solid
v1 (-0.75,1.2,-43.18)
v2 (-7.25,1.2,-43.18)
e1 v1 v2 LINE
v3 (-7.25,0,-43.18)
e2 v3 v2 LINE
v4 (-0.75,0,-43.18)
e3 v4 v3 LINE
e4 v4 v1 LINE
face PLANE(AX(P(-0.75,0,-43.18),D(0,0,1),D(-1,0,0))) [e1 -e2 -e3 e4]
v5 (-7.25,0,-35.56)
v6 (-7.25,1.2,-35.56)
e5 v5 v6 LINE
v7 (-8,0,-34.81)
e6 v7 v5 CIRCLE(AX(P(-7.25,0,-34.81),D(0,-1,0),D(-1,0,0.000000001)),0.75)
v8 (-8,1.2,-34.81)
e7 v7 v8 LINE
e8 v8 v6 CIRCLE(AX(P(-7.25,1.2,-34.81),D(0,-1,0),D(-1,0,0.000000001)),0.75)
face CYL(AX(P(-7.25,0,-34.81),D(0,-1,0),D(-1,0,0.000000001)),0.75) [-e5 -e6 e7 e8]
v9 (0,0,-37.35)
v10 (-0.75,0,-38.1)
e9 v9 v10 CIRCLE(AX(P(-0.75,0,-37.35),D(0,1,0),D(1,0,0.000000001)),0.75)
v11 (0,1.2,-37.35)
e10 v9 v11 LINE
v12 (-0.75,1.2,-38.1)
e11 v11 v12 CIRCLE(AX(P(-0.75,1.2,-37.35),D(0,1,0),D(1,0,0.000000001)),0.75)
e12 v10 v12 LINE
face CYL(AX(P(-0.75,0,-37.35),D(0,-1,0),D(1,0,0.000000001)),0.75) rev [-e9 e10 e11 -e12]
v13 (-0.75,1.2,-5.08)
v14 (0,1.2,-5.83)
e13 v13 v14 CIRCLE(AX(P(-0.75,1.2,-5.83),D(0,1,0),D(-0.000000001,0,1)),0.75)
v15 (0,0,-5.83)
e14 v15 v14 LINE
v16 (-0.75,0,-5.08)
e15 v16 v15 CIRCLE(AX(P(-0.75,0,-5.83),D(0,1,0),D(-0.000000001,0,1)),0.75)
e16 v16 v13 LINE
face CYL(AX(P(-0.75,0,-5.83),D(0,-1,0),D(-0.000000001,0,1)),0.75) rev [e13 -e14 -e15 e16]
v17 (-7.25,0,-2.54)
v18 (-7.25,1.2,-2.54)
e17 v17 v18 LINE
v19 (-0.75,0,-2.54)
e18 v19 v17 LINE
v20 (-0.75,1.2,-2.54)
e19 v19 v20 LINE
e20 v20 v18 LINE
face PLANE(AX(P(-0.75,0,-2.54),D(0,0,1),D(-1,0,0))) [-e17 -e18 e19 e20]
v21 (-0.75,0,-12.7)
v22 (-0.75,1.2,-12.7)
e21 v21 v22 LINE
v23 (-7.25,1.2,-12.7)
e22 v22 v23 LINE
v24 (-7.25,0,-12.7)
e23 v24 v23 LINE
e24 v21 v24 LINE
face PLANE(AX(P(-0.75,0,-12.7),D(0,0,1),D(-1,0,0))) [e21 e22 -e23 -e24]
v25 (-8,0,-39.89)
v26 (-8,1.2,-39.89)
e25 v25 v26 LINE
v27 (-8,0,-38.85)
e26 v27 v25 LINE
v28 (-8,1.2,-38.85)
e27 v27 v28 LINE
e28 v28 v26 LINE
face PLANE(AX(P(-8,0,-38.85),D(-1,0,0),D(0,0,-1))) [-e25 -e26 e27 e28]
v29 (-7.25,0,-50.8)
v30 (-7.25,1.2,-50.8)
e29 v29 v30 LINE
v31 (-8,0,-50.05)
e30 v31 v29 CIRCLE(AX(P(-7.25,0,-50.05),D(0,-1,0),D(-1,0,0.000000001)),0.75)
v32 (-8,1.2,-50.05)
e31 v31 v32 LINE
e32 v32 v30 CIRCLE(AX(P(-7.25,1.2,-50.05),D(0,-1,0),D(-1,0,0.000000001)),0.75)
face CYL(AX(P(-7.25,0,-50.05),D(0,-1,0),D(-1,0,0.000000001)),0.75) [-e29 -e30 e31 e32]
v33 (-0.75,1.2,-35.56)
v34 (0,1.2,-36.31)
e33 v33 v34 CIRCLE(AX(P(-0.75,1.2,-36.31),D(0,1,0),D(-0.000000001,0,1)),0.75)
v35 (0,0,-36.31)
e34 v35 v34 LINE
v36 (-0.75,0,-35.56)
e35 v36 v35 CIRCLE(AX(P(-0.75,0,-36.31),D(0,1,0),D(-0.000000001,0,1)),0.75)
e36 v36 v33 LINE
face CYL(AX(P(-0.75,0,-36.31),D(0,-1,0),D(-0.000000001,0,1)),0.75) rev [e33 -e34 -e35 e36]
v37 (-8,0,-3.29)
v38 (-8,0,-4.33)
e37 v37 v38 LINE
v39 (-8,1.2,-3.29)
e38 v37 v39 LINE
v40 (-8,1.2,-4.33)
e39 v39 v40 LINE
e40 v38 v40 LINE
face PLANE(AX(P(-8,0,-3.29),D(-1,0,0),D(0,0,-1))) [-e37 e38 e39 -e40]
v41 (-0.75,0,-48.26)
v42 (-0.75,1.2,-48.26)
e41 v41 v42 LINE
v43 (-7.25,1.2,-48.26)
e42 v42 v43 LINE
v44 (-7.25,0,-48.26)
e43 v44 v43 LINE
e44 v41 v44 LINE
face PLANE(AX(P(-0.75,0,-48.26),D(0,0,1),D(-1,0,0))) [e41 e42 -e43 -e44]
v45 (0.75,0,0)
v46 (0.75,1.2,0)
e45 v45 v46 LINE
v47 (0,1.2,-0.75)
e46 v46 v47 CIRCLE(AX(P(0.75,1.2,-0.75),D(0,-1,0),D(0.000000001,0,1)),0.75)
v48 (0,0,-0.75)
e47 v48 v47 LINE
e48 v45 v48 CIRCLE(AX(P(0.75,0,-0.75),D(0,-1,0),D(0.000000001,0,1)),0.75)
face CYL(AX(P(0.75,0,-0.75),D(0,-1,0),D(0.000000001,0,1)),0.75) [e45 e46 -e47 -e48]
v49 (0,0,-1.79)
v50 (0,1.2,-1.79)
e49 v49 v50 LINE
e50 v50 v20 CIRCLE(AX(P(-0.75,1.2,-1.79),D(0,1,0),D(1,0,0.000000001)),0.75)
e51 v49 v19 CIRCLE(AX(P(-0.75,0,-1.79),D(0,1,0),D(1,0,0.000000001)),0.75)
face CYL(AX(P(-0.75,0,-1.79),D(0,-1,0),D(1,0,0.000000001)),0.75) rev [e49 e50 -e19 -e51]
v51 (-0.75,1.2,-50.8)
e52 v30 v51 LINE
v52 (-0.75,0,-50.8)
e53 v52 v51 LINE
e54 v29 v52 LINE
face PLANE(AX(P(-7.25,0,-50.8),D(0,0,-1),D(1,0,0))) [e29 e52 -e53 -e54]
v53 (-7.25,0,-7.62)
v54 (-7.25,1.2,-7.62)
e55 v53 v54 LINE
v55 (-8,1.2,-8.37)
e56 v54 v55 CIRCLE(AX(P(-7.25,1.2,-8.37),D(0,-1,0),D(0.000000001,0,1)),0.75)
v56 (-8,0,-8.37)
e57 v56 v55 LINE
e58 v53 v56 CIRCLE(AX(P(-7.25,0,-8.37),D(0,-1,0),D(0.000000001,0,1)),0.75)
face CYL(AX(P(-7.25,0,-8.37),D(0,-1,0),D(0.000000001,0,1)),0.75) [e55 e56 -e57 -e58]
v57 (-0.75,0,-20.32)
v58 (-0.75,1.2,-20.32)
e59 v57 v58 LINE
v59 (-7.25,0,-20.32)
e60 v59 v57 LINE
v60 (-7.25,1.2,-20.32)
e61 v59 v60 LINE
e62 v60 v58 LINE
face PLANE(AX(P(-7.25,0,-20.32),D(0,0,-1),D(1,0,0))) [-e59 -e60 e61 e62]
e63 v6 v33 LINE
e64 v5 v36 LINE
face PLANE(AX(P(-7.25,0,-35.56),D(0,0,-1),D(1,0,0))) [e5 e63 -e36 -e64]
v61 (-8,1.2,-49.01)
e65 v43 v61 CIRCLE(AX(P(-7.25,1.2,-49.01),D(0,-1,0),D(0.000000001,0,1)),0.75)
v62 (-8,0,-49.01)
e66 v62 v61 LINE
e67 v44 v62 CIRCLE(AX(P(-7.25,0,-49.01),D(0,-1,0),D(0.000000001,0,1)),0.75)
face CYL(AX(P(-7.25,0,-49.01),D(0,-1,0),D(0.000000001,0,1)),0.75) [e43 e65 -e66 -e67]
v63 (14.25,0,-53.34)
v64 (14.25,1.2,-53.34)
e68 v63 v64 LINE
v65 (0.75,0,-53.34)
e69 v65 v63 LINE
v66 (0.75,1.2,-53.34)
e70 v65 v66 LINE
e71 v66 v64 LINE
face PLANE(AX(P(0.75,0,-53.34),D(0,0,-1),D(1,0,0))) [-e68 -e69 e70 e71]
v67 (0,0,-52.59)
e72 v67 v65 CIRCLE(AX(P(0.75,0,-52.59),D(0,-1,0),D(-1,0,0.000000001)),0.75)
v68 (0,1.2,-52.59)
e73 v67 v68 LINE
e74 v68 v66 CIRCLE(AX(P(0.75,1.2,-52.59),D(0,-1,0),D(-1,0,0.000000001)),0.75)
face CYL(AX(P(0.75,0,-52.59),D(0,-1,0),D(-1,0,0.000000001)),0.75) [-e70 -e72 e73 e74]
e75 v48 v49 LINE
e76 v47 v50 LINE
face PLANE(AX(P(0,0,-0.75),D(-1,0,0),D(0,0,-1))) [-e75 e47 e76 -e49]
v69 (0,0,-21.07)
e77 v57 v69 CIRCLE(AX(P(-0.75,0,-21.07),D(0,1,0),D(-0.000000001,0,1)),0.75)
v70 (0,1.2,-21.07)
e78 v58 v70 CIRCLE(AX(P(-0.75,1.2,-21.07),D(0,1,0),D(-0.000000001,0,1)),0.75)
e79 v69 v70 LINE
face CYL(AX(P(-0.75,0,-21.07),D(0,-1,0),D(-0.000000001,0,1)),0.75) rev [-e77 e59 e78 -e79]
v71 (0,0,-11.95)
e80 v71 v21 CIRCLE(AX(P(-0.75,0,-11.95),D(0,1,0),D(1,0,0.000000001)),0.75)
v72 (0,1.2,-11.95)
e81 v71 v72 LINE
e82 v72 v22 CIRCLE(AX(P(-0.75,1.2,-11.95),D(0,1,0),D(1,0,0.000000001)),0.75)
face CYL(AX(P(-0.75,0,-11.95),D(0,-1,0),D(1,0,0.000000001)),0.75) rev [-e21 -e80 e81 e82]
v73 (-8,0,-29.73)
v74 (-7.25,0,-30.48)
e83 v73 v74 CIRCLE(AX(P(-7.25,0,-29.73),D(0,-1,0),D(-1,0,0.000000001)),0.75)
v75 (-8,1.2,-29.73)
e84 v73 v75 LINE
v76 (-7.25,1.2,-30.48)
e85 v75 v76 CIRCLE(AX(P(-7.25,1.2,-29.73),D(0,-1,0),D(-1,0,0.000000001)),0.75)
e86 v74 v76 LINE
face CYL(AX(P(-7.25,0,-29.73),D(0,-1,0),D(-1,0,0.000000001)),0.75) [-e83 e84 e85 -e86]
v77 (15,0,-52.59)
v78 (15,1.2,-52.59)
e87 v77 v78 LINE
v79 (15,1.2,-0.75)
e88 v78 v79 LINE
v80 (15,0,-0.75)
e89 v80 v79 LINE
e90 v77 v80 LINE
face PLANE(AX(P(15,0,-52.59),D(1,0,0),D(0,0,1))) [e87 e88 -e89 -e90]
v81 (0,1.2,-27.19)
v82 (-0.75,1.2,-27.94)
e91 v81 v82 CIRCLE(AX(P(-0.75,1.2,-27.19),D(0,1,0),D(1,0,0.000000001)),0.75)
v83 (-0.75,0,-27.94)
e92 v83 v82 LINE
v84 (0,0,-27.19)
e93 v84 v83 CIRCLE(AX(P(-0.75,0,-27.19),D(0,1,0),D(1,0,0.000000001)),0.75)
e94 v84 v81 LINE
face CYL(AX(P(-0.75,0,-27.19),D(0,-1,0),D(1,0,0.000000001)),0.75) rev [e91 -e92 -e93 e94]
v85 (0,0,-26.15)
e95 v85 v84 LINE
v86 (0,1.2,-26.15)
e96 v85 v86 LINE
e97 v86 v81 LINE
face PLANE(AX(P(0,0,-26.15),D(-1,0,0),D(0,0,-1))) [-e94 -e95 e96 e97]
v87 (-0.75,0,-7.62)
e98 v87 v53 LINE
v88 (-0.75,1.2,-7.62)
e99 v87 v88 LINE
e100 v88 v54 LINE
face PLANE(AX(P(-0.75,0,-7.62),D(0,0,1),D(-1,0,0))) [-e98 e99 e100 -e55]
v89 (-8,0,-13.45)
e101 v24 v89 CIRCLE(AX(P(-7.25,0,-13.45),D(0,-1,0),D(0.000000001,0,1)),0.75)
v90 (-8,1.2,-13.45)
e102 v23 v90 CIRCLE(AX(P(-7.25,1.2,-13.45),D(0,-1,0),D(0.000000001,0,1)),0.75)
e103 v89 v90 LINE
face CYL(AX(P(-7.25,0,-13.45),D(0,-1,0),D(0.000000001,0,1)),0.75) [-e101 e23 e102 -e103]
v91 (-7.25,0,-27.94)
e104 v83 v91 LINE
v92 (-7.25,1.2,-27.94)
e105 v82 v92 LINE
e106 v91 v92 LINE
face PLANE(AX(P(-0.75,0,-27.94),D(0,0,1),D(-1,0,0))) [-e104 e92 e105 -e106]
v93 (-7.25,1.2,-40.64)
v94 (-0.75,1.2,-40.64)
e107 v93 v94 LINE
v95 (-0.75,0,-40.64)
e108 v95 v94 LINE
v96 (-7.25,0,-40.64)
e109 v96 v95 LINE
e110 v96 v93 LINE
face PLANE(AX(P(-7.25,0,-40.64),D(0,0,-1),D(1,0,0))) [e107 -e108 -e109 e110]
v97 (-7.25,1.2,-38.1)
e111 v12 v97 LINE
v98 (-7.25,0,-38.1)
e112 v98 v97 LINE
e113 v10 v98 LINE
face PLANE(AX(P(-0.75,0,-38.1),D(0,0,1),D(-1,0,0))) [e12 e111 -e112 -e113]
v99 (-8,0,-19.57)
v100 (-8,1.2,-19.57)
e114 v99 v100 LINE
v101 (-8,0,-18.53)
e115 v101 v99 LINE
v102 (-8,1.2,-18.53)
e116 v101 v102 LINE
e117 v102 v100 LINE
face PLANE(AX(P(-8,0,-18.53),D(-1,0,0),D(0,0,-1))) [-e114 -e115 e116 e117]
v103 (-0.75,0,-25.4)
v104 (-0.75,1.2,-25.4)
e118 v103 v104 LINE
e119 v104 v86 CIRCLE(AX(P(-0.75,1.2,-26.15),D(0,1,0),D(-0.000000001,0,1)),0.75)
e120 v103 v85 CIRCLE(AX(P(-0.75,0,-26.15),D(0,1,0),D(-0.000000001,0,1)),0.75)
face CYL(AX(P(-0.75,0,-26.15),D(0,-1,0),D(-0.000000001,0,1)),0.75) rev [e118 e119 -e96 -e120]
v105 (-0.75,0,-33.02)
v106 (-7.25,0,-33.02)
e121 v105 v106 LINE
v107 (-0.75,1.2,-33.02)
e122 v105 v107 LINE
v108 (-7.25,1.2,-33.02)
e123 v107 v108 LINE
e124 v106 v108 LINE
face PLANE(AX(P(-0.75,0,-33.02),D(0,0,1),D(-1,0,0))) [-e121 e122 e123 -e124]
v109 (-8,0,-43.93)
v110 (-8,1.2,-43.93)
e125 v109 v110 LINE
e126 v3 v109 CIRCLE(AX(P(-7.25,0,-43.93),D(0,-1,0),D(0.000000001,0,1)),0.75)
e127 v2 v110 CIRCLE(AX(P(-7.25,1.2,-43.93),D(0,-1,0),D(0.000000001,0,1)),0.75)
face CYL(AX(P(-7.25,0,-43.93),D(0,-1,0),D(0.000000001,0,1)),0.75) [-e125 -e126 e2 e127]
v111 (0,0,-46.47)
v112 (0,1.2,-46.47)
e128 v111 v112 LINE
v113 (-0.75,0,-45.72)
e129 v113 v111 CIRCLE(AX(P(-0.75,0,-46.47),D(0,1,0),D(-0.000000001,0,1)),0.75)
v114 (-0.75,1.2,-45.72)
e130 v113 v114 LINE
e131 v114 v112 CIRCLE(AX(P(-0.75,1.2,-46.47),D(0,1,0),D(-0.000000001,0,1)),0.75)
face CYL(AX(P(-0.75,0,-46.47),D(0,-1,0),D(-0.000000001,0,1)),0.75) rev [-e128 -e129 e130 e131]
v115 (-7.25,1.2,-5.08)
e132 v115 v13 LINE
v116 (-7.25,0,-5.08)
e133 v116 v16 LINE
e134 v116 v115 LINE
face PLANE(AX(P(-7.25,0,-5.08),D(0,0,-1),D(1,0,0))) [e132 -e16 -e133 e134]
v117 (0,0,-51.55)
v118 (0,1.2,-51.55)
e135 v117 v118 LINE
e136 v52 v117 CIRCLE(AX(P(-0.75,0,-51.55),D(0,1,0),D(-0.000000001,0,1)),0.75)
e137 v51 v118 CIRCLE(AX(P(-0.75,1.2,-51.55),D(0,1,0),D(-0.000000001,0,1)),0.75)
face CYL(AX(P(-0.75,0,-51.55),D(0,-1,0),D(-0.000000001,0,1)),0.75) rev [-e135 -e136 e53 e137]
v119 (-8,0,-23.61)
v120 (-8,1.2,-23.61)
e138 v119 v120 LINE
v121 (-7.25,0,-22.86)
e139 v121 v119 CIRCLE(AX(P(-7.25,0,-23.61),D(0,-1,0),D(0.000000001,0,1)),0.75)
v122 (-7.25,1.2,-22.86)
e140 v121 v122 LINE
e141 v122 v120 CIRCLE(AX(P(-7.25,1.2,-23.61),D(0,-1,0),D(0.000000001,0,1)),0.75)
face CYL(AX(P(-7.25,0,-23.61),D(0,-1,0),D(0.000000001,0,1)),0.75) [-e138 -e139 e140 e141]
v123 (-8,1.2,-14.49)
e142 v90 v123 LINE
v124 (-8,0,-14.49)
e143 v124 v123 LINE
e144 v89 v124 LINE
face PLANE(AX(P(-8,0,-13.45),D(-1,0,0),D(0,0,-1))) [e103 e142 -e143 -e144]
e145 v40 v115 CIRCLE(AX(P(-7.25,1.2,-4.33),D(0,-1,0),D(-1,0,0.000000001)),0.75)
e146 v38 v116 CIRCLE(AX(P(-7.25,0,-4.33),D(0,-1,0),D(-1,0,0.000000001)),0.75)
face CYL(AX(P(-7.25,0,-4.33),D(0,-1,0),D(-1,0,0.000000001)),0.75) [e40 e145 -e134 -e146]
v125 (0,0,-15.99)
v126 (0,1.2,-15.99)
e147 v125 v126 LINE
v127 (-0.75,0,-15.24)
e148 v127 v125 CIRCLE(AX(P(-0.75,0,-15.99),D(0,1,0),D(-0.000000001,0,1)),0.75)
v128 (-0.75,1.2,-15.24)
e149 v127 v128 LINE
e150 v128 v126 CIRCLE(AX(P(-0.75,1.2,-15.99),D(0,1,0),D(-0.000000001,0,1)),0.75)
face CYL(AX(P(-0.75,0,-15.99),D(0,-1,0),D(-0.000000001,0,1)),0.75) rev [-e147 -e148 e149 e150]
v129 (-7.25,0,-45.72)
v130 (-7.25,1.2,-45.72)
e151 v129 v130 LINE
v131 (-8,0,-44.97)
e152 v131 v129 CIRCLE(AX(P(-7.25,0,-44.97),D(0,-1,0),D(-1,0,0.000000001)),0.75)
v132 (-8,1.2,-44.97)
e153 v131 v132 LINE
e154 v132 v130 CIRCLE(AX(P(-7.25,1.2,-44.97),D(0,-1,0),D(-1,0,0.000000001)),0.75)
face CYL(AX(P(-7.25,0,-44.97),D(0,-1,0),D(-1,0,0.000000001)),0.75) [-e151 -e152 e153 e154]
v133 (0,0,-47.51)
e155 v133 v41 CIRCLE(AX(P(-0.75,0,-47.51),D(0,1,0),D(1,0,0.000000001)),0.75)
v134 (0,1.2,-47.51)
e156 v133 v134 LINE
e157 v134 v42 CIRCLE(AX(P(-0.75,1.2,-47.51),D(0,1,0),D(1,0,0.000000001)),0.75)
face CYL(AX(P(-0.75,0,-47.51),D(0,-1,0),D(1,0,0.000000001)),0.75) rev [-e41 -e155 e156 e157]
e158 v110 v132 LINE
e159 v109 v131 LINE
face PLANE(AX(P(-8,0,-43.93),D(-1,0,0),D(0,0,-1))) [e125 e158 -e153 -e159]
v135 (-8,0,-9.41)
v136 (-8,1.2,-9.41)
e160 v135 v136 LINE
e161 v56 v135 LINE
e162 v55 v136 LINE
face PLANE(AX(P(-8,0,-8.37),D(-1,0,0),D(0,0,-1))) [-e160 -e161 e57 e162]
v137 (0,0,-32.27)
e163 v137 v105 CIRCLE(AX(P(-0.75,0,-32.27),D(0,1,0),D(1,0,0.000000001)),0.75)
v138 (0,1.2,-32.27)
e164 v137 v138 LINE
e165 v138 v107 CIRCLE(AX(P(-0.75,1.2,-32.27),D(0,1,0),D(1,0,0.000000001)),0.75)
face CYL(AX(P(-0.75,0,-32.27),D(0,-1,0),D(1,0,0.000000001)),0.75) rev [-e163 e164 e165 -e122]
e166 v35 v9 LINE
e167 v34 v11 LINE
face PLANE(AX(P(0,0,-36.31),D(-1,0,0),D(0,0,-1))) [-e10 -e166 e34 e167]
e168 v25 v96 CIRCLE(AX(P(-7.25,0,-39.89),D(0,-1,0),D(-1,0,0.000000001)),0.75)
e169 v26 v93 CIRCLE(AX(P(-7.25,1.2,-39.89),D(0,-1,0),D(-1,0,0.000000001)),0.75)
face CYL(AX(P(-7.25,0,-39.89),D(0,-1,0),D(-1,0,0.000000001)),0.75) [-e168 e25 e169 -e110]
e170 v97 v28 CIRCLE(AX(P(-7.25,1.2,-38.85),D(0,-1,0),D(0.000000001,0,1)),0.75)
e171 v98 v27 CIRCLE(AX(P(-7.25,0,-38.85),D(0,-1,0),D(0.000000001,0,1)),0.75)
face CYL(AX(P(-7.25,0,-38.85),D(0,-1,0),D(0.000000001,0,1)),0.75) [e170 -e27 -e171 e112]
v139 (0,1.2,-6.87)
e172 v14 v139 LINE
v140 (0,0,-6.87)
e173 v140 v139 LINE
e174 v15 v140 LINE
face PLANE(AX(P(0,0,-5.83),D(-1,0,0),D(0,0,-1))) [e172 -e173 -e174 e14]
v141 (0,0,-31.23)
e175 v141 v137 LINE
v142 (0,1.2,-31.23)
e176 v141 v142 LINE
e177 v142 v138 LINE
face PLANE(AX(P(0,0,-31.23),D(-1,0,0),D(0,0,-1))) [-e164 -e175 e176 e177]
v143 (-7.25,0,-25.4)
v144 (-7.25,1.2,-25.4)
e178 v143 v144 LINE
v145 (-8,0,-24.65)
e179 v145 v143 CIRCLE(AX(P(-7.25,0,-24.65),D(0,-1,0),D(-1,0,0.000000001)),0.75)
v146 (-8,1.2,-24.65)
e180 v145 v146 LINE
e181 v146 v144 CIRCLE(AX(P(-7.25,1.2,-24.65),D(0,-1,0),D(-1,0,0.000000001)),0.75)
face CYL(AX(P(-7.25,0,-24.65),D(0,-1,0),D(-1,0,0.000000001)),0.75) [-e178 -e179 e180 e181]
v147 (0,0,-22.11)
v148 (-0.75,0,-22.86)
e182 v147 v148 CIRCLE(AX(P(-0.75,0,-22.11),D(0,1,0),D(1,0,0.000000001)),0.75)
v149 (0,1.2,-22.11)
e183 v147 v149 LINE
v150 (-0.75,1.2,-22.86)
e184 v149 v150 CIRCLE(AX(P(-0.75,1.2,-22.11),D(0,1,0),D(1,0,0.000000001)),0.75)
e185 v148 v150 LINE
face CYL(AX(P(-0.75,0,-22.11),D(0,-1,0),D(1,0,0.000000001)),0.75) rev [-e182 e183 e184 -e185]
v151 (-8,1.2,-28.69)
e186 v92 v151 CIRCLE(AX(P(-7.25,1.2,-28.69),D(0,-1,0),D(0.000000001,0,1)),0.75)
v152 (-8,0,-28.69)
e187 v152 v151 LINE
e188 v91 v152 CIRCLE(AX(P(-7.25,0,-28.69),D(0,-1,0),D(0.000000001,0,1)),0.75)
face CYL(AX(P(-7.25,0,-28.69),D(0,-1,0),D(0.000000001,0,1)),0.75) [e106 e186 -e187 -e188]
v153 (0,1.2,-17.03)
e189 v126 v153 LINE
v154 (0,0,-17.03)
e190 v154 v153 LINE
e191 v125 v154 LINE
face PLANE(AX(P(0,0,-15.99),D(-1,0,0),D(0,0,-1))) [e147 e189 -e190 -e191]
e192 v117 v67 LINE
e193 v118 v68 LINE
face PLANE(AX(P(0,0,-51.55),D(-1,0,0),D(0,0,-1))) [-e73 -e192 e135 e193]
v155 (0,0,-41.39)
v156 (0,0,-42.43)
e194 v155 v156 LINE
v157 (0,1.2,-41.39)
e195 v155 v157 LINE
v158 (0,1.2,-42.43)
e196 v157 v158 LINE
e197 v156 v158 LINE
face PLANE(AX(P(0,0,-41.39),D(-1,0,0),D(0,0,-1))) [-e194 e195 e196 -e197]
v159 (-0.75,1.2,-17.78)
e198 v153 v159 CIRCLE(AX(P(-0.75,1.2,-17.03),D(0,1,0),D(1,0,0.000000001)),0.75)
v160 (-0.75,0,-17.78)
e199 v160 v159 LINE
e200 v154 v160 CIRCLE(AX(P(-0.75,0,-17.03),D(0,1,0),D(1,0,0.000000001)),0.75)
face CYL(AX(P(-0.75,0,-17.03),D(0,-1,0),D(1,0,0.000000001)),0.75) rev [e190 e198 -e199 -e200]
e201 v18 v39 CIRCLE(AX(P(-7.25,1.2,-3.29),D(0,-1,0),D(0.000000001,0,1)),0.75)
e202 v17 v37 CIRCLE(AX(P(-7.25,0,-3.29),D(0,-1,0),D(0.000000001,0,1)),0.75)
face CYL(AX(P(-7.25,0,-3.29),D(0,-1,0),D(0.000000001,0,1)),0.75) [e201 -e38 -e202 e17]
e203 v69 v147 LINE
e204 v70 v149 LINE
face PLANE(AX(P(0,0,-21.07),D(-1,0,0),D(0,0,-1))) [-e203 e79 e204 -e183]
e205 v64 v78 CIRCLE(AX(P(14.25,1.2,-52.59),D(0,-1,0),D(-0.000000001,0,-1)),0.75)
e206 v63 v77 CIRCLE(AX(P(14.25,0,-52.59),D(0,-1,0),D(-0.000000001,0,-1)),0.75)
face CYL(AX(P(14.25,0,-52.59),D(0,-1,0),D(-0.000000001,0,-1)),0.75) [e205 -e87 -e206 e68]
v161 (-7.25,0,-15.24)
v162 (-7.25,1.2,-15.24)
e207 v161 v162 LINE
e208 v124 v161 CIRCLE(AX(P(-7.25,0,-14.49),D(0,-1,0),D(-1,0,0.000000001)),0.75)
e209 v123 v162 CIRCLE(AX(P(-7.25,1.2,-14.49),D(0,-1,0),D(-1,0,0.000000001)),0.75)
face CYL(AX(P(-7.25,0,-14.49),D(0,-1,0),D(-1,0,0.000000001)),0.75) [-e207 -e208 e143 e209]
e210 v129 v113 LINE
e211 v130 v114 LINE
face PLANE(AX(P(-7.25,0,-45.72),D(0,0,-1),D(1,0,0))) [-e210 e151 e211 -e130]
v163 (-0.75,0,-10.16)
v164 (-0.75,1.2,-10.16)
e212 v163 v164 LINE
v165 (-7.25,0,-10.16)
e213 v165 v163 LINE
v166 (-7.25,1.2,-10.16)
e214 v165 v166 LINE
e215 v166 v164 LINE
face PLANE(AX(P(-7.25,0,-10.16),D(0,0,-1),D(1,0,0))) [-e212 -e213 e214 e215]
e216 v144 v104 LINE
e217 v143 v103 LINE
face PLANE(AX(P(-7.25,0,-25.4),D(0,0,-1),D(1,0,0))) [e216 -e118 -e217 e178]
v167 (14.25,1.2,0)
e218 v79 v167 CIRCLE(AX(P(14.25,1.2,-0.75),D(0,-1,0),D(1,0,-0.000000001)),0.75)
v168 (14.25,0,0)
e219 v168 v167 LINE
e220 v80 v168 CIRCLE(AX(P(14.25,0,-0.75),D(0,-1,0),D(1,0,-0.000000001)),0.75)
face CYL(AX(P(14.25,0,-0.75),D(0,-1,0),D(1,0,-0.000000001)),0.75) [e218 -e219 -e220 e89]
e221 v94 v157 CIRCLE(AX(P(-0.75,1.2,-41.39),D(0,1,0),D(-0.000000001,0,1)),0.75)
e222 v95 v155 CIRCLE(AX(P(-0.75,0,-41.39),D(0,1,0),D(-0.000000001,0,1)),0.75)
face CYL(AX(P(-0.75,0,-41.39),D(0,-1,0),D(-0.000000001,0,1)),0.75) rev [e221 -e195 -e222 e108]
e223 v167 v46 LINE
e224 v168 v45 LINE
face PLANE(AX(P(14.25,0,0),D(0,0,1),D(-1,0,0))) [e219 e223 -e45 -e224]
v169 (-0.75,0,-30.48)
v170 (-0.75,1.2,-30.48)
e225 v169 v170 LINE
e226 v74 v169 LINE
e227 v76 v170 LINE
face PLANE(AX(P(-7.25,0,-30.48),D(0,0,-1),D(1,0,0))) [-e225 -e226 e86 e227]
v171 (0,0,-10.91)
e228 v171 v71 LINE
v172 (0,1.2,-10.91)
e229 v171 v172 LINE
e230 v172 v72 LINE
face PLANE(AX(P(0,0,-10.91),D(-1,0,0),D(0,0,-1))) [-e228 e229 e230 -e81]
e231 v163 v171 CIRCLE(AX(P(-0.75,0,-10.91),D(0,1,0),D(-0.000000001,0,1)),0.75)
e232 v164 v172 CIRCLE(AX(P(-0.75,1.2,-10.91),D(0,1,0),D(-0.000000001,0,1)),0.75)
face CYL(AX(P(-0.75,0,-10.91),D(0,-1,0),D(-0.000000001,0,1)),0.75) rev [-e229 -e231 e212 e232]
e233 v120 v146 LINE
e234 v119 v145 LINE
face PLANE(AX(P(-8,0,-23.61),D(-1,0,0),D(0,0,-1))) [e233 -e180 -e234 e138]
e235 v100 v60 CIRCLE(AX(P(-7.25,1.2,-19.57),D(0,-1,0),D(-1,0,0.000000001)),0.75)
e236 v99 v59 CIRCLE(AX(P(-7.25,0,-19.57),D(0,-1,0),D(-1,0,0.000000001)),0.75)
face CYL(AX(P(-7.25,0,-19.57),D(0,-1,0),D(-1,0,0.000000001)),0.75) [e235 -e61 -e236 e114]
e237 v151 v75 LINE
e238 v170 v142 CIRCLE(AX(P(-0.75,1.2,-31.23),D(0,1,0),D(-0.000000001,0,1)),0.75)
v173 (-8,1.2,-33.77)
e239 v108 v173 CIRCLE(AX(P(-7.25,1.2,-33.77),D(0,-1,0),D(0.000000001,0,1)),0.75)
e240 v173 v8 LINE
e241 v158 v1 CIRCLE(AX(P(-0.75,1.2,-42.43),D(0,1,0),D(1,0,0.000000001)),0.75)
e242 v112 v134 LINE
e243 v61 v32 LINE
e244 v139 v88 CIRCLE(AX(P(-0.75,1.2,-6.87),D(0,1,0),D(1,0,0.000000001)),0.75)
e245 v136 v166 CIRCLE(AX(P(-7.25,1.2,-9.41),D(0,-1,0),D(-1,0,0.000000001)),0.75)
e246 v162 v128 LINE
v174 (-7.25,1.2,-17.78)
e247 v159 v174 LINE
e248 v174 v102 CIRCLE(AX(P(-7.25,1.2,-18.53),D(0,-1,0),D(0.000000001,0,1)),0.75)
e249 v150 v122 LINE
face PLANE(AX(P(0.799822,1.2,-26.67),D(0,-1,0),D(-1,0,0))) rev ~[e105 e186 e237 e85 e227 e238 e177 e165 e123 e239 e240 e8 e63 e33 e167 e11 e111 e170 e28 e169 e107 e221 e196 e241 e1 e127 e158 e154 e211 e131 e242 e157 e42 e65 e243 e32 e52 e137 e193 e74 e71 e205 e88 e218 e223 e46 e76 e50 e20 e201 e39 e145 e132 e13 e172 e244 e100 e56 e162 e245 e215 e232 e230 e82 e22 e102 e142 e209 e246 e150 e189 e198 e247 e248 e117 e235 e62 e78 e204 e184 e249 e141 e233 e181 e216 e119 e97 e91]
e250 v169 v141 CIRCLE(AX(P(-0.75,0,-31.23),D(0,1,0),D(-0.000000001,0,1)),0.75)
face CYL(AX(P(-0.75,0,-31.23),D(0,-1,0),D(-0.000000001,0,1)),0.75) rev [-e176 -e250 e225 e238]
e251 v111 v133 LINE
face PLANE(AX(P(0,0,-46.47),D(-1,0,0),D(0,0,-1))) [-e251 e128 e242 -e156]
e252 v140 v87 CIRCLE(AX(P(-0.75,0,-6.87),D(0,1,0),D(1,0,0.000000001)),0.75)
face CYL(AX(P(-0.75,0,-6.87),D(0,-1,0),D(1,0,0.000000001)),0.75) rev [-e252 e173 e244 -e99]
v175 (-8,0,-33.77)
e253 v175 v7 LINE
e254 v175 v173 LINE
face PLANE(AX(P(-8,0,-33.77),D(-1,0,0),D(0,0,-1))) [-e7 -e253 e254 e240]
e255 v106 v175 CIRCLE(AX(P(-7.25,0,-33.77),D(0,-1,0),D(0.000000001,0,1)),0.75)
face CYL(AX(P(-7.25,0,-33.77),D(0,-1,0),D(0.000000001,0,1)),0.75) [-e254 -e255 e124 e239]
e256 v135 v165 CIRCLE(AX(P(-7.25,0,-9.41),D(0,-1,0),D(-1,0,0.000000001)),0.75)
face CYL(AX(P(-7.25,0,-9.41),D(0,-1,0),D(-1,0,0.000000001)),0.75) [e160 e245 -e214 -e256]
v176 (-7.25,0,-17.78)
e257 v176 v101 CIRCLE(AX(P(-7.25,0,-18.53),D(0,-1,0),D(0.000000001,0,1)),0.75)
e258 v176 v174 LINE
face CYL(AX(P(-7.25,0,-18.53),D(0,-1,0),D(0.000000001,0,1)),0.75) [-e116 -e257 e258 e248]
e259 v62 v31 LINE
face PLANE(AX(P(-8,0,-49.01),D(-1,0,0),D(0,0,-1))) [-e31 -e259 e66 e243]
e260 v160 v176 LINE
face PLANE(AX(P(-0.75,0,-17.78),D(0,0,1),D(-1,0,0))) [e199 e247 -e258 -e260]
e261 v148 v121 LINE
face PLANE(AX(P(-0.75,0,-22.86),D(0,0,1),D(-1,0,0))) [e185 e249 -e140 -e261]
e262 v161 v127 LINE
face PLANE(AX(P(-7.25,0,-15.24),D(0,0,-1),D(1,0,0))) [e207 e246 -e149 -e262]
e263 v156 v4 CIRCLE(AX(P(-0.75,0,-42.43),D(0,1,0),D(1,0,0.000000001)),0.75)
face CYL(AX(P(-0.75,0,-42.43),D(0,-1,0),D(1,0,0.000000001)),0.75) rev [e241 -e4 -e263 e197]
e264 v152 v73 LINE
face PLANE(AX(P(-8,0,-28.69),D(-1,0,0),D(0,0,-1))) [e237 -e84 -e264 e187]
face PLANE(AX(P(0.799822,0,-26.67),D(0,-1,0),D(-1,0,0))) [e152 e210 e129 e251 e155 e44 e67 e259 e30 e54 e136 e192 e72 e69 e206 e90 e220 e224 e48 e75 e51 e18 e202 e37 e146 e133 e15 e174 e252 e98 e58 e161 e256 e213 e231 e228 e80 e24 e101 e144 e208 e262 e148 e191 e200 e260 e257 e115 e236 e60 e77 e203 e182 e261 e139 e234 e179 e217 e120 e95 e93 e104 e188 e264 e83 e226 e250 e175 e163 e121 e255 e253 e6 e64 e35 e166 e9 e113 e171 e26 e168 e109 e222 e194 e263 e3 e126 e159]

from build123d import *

# Parameters (mm, degrees)
BOSS_EXTRUDE1_DEPTH = 1.2


with BuildPart() as part:
    # Sketch1 → Boss-Extrude1 (new body)
    with BuildSketch(Plane(origin=(0, 0, 0), x_dir=(1, 0, 0), z_dir=(0, 1, 0))):
        with BuildLine():
            Line((-0.75, 2.54), (-7.25, 2.54))
            ThreePointArc((-7.25, 2.54), (-7.780330086, 2.759669914), (-8, 3.29))
            Line((-8, 3.29), (-8, 4.33))
            ThreePointArc((-8, 4.33), (-7.780330086, 4.860330086), (-7.25, 5.08))
            Line((-7.25, 5.08), (-0.75, 5.08))
            ThreePointArc((-0.75, 5.08), (-0.219669914, 5.299669914), (0, 5.83))
            Line((0, 5.83), (0, 6.87))
            ThreePointArc((0, 6.87), (-0.219669914, 7.400330086), (-0.75, 7.62))
            Line((-0.75, 7.62), (-7.25, 7.62))
            ThreePointArc((-7.25, 7.62), (-7.780330086, 7.839669914), (-8, 8.37))
            Line((-8, 8.37), (-8, 9.41))
            ThreePointArc((-8, 9.41), (-7.780330086, 9.940330086), (-7.25, 10.16))
            Line((-7.25, 10.16), (-0.75, 10.16))
            ThreePointArc((-0.75, 10.16), (-0.219669914, 10.379669914), (0, 10.91))
            Line((0, 10.91), (0, 11.95))
            ThreePointArc((0, 11.95), (-0.219669914, 12.480330086), (-0.75, 12.7))
            Line((-0.75, 12.7), (-7.25, 12.7))
            ThreePointArc((-7.25, 12.7), (-7.780330086, 12.919669914), (-8, 13.45))
            Line((-8, 13.45), (-8, 14.49))
            ThreePointArc((-8, 14.49), (-7.780330086, 15.020330086), (-7.25, 15.24))
            Line((-7.25, 15.24), (-0.75, 15.24))
            ThreePointArc((-0.75, 15.24), (-0.219669914, 15.459669914), (0, 15.99))
            Line((0, 15.99), (0, 17.03))
            ThreePointArc((0, 17.03), (-0.219669914, 17.560330086), (-0.75, 17.78))
            Line((-0.75, 17.78), (-7.25, 17.78))
            ThreePointArc((-7.25, 17.78), (-7.780330086, 17.999669914), (-8, 18.53))
            Line((-8, 18.53), (-8, 19.57))
            ThreePointArc((-8, 19.57), (-7.780330086, 20.100330086), (-7.25, 20.32))
            Line((-7.25, 20.32), (-0.75, 20.32))
            ThreePointArc((-0.75, 20.32), (-0.219669914, 20.539669914), (0, 21.07))
            Line((0, 21.07), (0, 22.11))
            ThreePointArc((0, 22.11), (-0.219669914, 22.640330086), (-0.75, 22.86))
            Line((-0.75, 22.86), (-7.25, 22.86))
            ThreePointArc((-7.25, 22.86), (-7.780330086, 23.079669914), (-8, 23.61))
            Line((-8, 23.61), (-8, 24.65))
            ThreePointArc((-8, 24.65), (-7.780330086, 25.180330086), (-7.25, 25.4))
            Line((-7.25, 25.4), (-0.75, 25.4))
            ThreePointArc((-0.75, 25.4), (-0.219669914, 25.619669914), (0, 26.15))
            Line((0, 26.15), (0, 27.19))
            ThreePointArc((0, 27.19), (-0.219669914, 27.720330086), (-0.75, 27.94))
            Line((-0.75, 27.94), (-7.25, 27.94))
            ThreePointArc((-7.25, 27.94), (-7.780330086, 28.159669914), (-8, 28.69))
            Line((-8, 28.69), (-8, 29.73))
            ThreePointArc((-8, 29.73), (-7.780330086, 30.260330086), (-7.25, 30.48))
            Line((-7.25, 30.48), (-0.75, 30.48))
            ThreePointArc((-0.75, 30.48), (-0.219669914, 30.699669914), (0, 31.23))
            Line((0, 31.23), (0, 32.27))
            ThreePointArc((0, 32.27), (-0.219669914, 32.800330086), (-0.75, 33.02))
            Line((-0.75, 33.02), (-7.25, 33.02))
            ThreePointArc((-7.25, 33.02), (-7.780330086, 33.239669914), (-8, 33.77))
            Line((-8, 33.77), (-8, 34.81))
            ThreePointArc((-8, 34.81), (-7.780330086, 35.340330086), (-7.25, 35.56))
            Line((-7.25, 35.56), (-0.75, 35.56))
            ThreePointArc((-0.75, 35.56), (-0.219669914, 35.779669914), (0, 36.31))
            Line((0, 36.31), (0, 37.35))
            ThreePointArc((0, 37.35), (-0.219669914, 37.880330086), (-0.75, 38.1))
            Line((-0.75, 38.1), (-7.25, 38.1))
            ThreePointArc((-7.25, 38.1), (-7.780330086, 38.319669914), (-8, 38.85))
            Line((-8, 38.85), (-8, 39.89))
            ThreePointArc((-8, 39.89), (-7.780330086, 40.420330086), (-7.25, 40.64))
            Line((-7.25, 40.64), (-0.75, 40.64))
            ThreePointArc((-0.75, 40.64), (-0.219669914, 40.859669914), (0, 41.39))
            Line((0, 41.39), (0, 42.43))
            ThreePointArc((0, 42.43), (-0.219669914, 42.960330086), (-0.75, 43.18))
            Line((-0.75, 43.18), (-7.25, 43.18))
            ThreePointArc((-7.25, 43.18), (-7.780330086, 43.399669914), (-8, 43.93))
            Line((-8, 43.93), (-8, 44.97))
            ThreePointArc((-8, 44.97), (-7.780330086, 45.500330086), (-7.25, 45.72))
            Line((-7.25, 45.72), (-0.75, 45.72))
            ThreePointArc((-0.75, 45.72), (-0.219669914, 45.939669914), (0, 46.47))
            Line((0, 46.47), (0, 47.51))
            ThreePointArc((0, 47.51), (-0.219669914, 48.040330086), (-0.75, 48.26))
            Line((-0.75, 48.26), (-7.25, 48.26))
            ThreePointArc((-7.25, 48.26), (-7.780330086, 48.479669914), (-8, 49.01))
            Line((-8, 49.01), (-8, 50.05))
            ThreePointArc((-8, 50.05), (-7.780330086, 50.580330086), (-7.25, 50.8))
            Line((-7.25, 50.8), (-0.75, 50.8))
            ThreePointArc((-0.75, 50.8), (-0.219669914, 51.019669914), (0, 51.55))
            Line((0, 51.55), (0, 52.59))
            ThreePointArc((0, 52.59), (0.219669914, 53.120330086), (0.75, 53.34))
            Line((0.75, 53.34), (14.25, 53.34))
            ThreePointArc((14.25, 53.34), (14.780330086, 53.120330086), (15, 52.59))
            Line((15, 52.59), (15, 0.75))
            ThreePointArc((15, 0.75), (14.780330086, 0.219669914), (14.25, 0))
            Line((14.25, 0), (0.75, 0))
            ThreePointArc((0.75, 0), (0.219669914, 0.219669914), (0, 0.75))
            Line((0, 0.75), (0, 1.79))
            ThreePointArc((0, 1.79), (-0.219669914, 2.320330086), (-0.75, 2.54))
        make_face()
    extrude(amount=BOSS_EXTRUDE1_DEPTH)


solid = part.part
